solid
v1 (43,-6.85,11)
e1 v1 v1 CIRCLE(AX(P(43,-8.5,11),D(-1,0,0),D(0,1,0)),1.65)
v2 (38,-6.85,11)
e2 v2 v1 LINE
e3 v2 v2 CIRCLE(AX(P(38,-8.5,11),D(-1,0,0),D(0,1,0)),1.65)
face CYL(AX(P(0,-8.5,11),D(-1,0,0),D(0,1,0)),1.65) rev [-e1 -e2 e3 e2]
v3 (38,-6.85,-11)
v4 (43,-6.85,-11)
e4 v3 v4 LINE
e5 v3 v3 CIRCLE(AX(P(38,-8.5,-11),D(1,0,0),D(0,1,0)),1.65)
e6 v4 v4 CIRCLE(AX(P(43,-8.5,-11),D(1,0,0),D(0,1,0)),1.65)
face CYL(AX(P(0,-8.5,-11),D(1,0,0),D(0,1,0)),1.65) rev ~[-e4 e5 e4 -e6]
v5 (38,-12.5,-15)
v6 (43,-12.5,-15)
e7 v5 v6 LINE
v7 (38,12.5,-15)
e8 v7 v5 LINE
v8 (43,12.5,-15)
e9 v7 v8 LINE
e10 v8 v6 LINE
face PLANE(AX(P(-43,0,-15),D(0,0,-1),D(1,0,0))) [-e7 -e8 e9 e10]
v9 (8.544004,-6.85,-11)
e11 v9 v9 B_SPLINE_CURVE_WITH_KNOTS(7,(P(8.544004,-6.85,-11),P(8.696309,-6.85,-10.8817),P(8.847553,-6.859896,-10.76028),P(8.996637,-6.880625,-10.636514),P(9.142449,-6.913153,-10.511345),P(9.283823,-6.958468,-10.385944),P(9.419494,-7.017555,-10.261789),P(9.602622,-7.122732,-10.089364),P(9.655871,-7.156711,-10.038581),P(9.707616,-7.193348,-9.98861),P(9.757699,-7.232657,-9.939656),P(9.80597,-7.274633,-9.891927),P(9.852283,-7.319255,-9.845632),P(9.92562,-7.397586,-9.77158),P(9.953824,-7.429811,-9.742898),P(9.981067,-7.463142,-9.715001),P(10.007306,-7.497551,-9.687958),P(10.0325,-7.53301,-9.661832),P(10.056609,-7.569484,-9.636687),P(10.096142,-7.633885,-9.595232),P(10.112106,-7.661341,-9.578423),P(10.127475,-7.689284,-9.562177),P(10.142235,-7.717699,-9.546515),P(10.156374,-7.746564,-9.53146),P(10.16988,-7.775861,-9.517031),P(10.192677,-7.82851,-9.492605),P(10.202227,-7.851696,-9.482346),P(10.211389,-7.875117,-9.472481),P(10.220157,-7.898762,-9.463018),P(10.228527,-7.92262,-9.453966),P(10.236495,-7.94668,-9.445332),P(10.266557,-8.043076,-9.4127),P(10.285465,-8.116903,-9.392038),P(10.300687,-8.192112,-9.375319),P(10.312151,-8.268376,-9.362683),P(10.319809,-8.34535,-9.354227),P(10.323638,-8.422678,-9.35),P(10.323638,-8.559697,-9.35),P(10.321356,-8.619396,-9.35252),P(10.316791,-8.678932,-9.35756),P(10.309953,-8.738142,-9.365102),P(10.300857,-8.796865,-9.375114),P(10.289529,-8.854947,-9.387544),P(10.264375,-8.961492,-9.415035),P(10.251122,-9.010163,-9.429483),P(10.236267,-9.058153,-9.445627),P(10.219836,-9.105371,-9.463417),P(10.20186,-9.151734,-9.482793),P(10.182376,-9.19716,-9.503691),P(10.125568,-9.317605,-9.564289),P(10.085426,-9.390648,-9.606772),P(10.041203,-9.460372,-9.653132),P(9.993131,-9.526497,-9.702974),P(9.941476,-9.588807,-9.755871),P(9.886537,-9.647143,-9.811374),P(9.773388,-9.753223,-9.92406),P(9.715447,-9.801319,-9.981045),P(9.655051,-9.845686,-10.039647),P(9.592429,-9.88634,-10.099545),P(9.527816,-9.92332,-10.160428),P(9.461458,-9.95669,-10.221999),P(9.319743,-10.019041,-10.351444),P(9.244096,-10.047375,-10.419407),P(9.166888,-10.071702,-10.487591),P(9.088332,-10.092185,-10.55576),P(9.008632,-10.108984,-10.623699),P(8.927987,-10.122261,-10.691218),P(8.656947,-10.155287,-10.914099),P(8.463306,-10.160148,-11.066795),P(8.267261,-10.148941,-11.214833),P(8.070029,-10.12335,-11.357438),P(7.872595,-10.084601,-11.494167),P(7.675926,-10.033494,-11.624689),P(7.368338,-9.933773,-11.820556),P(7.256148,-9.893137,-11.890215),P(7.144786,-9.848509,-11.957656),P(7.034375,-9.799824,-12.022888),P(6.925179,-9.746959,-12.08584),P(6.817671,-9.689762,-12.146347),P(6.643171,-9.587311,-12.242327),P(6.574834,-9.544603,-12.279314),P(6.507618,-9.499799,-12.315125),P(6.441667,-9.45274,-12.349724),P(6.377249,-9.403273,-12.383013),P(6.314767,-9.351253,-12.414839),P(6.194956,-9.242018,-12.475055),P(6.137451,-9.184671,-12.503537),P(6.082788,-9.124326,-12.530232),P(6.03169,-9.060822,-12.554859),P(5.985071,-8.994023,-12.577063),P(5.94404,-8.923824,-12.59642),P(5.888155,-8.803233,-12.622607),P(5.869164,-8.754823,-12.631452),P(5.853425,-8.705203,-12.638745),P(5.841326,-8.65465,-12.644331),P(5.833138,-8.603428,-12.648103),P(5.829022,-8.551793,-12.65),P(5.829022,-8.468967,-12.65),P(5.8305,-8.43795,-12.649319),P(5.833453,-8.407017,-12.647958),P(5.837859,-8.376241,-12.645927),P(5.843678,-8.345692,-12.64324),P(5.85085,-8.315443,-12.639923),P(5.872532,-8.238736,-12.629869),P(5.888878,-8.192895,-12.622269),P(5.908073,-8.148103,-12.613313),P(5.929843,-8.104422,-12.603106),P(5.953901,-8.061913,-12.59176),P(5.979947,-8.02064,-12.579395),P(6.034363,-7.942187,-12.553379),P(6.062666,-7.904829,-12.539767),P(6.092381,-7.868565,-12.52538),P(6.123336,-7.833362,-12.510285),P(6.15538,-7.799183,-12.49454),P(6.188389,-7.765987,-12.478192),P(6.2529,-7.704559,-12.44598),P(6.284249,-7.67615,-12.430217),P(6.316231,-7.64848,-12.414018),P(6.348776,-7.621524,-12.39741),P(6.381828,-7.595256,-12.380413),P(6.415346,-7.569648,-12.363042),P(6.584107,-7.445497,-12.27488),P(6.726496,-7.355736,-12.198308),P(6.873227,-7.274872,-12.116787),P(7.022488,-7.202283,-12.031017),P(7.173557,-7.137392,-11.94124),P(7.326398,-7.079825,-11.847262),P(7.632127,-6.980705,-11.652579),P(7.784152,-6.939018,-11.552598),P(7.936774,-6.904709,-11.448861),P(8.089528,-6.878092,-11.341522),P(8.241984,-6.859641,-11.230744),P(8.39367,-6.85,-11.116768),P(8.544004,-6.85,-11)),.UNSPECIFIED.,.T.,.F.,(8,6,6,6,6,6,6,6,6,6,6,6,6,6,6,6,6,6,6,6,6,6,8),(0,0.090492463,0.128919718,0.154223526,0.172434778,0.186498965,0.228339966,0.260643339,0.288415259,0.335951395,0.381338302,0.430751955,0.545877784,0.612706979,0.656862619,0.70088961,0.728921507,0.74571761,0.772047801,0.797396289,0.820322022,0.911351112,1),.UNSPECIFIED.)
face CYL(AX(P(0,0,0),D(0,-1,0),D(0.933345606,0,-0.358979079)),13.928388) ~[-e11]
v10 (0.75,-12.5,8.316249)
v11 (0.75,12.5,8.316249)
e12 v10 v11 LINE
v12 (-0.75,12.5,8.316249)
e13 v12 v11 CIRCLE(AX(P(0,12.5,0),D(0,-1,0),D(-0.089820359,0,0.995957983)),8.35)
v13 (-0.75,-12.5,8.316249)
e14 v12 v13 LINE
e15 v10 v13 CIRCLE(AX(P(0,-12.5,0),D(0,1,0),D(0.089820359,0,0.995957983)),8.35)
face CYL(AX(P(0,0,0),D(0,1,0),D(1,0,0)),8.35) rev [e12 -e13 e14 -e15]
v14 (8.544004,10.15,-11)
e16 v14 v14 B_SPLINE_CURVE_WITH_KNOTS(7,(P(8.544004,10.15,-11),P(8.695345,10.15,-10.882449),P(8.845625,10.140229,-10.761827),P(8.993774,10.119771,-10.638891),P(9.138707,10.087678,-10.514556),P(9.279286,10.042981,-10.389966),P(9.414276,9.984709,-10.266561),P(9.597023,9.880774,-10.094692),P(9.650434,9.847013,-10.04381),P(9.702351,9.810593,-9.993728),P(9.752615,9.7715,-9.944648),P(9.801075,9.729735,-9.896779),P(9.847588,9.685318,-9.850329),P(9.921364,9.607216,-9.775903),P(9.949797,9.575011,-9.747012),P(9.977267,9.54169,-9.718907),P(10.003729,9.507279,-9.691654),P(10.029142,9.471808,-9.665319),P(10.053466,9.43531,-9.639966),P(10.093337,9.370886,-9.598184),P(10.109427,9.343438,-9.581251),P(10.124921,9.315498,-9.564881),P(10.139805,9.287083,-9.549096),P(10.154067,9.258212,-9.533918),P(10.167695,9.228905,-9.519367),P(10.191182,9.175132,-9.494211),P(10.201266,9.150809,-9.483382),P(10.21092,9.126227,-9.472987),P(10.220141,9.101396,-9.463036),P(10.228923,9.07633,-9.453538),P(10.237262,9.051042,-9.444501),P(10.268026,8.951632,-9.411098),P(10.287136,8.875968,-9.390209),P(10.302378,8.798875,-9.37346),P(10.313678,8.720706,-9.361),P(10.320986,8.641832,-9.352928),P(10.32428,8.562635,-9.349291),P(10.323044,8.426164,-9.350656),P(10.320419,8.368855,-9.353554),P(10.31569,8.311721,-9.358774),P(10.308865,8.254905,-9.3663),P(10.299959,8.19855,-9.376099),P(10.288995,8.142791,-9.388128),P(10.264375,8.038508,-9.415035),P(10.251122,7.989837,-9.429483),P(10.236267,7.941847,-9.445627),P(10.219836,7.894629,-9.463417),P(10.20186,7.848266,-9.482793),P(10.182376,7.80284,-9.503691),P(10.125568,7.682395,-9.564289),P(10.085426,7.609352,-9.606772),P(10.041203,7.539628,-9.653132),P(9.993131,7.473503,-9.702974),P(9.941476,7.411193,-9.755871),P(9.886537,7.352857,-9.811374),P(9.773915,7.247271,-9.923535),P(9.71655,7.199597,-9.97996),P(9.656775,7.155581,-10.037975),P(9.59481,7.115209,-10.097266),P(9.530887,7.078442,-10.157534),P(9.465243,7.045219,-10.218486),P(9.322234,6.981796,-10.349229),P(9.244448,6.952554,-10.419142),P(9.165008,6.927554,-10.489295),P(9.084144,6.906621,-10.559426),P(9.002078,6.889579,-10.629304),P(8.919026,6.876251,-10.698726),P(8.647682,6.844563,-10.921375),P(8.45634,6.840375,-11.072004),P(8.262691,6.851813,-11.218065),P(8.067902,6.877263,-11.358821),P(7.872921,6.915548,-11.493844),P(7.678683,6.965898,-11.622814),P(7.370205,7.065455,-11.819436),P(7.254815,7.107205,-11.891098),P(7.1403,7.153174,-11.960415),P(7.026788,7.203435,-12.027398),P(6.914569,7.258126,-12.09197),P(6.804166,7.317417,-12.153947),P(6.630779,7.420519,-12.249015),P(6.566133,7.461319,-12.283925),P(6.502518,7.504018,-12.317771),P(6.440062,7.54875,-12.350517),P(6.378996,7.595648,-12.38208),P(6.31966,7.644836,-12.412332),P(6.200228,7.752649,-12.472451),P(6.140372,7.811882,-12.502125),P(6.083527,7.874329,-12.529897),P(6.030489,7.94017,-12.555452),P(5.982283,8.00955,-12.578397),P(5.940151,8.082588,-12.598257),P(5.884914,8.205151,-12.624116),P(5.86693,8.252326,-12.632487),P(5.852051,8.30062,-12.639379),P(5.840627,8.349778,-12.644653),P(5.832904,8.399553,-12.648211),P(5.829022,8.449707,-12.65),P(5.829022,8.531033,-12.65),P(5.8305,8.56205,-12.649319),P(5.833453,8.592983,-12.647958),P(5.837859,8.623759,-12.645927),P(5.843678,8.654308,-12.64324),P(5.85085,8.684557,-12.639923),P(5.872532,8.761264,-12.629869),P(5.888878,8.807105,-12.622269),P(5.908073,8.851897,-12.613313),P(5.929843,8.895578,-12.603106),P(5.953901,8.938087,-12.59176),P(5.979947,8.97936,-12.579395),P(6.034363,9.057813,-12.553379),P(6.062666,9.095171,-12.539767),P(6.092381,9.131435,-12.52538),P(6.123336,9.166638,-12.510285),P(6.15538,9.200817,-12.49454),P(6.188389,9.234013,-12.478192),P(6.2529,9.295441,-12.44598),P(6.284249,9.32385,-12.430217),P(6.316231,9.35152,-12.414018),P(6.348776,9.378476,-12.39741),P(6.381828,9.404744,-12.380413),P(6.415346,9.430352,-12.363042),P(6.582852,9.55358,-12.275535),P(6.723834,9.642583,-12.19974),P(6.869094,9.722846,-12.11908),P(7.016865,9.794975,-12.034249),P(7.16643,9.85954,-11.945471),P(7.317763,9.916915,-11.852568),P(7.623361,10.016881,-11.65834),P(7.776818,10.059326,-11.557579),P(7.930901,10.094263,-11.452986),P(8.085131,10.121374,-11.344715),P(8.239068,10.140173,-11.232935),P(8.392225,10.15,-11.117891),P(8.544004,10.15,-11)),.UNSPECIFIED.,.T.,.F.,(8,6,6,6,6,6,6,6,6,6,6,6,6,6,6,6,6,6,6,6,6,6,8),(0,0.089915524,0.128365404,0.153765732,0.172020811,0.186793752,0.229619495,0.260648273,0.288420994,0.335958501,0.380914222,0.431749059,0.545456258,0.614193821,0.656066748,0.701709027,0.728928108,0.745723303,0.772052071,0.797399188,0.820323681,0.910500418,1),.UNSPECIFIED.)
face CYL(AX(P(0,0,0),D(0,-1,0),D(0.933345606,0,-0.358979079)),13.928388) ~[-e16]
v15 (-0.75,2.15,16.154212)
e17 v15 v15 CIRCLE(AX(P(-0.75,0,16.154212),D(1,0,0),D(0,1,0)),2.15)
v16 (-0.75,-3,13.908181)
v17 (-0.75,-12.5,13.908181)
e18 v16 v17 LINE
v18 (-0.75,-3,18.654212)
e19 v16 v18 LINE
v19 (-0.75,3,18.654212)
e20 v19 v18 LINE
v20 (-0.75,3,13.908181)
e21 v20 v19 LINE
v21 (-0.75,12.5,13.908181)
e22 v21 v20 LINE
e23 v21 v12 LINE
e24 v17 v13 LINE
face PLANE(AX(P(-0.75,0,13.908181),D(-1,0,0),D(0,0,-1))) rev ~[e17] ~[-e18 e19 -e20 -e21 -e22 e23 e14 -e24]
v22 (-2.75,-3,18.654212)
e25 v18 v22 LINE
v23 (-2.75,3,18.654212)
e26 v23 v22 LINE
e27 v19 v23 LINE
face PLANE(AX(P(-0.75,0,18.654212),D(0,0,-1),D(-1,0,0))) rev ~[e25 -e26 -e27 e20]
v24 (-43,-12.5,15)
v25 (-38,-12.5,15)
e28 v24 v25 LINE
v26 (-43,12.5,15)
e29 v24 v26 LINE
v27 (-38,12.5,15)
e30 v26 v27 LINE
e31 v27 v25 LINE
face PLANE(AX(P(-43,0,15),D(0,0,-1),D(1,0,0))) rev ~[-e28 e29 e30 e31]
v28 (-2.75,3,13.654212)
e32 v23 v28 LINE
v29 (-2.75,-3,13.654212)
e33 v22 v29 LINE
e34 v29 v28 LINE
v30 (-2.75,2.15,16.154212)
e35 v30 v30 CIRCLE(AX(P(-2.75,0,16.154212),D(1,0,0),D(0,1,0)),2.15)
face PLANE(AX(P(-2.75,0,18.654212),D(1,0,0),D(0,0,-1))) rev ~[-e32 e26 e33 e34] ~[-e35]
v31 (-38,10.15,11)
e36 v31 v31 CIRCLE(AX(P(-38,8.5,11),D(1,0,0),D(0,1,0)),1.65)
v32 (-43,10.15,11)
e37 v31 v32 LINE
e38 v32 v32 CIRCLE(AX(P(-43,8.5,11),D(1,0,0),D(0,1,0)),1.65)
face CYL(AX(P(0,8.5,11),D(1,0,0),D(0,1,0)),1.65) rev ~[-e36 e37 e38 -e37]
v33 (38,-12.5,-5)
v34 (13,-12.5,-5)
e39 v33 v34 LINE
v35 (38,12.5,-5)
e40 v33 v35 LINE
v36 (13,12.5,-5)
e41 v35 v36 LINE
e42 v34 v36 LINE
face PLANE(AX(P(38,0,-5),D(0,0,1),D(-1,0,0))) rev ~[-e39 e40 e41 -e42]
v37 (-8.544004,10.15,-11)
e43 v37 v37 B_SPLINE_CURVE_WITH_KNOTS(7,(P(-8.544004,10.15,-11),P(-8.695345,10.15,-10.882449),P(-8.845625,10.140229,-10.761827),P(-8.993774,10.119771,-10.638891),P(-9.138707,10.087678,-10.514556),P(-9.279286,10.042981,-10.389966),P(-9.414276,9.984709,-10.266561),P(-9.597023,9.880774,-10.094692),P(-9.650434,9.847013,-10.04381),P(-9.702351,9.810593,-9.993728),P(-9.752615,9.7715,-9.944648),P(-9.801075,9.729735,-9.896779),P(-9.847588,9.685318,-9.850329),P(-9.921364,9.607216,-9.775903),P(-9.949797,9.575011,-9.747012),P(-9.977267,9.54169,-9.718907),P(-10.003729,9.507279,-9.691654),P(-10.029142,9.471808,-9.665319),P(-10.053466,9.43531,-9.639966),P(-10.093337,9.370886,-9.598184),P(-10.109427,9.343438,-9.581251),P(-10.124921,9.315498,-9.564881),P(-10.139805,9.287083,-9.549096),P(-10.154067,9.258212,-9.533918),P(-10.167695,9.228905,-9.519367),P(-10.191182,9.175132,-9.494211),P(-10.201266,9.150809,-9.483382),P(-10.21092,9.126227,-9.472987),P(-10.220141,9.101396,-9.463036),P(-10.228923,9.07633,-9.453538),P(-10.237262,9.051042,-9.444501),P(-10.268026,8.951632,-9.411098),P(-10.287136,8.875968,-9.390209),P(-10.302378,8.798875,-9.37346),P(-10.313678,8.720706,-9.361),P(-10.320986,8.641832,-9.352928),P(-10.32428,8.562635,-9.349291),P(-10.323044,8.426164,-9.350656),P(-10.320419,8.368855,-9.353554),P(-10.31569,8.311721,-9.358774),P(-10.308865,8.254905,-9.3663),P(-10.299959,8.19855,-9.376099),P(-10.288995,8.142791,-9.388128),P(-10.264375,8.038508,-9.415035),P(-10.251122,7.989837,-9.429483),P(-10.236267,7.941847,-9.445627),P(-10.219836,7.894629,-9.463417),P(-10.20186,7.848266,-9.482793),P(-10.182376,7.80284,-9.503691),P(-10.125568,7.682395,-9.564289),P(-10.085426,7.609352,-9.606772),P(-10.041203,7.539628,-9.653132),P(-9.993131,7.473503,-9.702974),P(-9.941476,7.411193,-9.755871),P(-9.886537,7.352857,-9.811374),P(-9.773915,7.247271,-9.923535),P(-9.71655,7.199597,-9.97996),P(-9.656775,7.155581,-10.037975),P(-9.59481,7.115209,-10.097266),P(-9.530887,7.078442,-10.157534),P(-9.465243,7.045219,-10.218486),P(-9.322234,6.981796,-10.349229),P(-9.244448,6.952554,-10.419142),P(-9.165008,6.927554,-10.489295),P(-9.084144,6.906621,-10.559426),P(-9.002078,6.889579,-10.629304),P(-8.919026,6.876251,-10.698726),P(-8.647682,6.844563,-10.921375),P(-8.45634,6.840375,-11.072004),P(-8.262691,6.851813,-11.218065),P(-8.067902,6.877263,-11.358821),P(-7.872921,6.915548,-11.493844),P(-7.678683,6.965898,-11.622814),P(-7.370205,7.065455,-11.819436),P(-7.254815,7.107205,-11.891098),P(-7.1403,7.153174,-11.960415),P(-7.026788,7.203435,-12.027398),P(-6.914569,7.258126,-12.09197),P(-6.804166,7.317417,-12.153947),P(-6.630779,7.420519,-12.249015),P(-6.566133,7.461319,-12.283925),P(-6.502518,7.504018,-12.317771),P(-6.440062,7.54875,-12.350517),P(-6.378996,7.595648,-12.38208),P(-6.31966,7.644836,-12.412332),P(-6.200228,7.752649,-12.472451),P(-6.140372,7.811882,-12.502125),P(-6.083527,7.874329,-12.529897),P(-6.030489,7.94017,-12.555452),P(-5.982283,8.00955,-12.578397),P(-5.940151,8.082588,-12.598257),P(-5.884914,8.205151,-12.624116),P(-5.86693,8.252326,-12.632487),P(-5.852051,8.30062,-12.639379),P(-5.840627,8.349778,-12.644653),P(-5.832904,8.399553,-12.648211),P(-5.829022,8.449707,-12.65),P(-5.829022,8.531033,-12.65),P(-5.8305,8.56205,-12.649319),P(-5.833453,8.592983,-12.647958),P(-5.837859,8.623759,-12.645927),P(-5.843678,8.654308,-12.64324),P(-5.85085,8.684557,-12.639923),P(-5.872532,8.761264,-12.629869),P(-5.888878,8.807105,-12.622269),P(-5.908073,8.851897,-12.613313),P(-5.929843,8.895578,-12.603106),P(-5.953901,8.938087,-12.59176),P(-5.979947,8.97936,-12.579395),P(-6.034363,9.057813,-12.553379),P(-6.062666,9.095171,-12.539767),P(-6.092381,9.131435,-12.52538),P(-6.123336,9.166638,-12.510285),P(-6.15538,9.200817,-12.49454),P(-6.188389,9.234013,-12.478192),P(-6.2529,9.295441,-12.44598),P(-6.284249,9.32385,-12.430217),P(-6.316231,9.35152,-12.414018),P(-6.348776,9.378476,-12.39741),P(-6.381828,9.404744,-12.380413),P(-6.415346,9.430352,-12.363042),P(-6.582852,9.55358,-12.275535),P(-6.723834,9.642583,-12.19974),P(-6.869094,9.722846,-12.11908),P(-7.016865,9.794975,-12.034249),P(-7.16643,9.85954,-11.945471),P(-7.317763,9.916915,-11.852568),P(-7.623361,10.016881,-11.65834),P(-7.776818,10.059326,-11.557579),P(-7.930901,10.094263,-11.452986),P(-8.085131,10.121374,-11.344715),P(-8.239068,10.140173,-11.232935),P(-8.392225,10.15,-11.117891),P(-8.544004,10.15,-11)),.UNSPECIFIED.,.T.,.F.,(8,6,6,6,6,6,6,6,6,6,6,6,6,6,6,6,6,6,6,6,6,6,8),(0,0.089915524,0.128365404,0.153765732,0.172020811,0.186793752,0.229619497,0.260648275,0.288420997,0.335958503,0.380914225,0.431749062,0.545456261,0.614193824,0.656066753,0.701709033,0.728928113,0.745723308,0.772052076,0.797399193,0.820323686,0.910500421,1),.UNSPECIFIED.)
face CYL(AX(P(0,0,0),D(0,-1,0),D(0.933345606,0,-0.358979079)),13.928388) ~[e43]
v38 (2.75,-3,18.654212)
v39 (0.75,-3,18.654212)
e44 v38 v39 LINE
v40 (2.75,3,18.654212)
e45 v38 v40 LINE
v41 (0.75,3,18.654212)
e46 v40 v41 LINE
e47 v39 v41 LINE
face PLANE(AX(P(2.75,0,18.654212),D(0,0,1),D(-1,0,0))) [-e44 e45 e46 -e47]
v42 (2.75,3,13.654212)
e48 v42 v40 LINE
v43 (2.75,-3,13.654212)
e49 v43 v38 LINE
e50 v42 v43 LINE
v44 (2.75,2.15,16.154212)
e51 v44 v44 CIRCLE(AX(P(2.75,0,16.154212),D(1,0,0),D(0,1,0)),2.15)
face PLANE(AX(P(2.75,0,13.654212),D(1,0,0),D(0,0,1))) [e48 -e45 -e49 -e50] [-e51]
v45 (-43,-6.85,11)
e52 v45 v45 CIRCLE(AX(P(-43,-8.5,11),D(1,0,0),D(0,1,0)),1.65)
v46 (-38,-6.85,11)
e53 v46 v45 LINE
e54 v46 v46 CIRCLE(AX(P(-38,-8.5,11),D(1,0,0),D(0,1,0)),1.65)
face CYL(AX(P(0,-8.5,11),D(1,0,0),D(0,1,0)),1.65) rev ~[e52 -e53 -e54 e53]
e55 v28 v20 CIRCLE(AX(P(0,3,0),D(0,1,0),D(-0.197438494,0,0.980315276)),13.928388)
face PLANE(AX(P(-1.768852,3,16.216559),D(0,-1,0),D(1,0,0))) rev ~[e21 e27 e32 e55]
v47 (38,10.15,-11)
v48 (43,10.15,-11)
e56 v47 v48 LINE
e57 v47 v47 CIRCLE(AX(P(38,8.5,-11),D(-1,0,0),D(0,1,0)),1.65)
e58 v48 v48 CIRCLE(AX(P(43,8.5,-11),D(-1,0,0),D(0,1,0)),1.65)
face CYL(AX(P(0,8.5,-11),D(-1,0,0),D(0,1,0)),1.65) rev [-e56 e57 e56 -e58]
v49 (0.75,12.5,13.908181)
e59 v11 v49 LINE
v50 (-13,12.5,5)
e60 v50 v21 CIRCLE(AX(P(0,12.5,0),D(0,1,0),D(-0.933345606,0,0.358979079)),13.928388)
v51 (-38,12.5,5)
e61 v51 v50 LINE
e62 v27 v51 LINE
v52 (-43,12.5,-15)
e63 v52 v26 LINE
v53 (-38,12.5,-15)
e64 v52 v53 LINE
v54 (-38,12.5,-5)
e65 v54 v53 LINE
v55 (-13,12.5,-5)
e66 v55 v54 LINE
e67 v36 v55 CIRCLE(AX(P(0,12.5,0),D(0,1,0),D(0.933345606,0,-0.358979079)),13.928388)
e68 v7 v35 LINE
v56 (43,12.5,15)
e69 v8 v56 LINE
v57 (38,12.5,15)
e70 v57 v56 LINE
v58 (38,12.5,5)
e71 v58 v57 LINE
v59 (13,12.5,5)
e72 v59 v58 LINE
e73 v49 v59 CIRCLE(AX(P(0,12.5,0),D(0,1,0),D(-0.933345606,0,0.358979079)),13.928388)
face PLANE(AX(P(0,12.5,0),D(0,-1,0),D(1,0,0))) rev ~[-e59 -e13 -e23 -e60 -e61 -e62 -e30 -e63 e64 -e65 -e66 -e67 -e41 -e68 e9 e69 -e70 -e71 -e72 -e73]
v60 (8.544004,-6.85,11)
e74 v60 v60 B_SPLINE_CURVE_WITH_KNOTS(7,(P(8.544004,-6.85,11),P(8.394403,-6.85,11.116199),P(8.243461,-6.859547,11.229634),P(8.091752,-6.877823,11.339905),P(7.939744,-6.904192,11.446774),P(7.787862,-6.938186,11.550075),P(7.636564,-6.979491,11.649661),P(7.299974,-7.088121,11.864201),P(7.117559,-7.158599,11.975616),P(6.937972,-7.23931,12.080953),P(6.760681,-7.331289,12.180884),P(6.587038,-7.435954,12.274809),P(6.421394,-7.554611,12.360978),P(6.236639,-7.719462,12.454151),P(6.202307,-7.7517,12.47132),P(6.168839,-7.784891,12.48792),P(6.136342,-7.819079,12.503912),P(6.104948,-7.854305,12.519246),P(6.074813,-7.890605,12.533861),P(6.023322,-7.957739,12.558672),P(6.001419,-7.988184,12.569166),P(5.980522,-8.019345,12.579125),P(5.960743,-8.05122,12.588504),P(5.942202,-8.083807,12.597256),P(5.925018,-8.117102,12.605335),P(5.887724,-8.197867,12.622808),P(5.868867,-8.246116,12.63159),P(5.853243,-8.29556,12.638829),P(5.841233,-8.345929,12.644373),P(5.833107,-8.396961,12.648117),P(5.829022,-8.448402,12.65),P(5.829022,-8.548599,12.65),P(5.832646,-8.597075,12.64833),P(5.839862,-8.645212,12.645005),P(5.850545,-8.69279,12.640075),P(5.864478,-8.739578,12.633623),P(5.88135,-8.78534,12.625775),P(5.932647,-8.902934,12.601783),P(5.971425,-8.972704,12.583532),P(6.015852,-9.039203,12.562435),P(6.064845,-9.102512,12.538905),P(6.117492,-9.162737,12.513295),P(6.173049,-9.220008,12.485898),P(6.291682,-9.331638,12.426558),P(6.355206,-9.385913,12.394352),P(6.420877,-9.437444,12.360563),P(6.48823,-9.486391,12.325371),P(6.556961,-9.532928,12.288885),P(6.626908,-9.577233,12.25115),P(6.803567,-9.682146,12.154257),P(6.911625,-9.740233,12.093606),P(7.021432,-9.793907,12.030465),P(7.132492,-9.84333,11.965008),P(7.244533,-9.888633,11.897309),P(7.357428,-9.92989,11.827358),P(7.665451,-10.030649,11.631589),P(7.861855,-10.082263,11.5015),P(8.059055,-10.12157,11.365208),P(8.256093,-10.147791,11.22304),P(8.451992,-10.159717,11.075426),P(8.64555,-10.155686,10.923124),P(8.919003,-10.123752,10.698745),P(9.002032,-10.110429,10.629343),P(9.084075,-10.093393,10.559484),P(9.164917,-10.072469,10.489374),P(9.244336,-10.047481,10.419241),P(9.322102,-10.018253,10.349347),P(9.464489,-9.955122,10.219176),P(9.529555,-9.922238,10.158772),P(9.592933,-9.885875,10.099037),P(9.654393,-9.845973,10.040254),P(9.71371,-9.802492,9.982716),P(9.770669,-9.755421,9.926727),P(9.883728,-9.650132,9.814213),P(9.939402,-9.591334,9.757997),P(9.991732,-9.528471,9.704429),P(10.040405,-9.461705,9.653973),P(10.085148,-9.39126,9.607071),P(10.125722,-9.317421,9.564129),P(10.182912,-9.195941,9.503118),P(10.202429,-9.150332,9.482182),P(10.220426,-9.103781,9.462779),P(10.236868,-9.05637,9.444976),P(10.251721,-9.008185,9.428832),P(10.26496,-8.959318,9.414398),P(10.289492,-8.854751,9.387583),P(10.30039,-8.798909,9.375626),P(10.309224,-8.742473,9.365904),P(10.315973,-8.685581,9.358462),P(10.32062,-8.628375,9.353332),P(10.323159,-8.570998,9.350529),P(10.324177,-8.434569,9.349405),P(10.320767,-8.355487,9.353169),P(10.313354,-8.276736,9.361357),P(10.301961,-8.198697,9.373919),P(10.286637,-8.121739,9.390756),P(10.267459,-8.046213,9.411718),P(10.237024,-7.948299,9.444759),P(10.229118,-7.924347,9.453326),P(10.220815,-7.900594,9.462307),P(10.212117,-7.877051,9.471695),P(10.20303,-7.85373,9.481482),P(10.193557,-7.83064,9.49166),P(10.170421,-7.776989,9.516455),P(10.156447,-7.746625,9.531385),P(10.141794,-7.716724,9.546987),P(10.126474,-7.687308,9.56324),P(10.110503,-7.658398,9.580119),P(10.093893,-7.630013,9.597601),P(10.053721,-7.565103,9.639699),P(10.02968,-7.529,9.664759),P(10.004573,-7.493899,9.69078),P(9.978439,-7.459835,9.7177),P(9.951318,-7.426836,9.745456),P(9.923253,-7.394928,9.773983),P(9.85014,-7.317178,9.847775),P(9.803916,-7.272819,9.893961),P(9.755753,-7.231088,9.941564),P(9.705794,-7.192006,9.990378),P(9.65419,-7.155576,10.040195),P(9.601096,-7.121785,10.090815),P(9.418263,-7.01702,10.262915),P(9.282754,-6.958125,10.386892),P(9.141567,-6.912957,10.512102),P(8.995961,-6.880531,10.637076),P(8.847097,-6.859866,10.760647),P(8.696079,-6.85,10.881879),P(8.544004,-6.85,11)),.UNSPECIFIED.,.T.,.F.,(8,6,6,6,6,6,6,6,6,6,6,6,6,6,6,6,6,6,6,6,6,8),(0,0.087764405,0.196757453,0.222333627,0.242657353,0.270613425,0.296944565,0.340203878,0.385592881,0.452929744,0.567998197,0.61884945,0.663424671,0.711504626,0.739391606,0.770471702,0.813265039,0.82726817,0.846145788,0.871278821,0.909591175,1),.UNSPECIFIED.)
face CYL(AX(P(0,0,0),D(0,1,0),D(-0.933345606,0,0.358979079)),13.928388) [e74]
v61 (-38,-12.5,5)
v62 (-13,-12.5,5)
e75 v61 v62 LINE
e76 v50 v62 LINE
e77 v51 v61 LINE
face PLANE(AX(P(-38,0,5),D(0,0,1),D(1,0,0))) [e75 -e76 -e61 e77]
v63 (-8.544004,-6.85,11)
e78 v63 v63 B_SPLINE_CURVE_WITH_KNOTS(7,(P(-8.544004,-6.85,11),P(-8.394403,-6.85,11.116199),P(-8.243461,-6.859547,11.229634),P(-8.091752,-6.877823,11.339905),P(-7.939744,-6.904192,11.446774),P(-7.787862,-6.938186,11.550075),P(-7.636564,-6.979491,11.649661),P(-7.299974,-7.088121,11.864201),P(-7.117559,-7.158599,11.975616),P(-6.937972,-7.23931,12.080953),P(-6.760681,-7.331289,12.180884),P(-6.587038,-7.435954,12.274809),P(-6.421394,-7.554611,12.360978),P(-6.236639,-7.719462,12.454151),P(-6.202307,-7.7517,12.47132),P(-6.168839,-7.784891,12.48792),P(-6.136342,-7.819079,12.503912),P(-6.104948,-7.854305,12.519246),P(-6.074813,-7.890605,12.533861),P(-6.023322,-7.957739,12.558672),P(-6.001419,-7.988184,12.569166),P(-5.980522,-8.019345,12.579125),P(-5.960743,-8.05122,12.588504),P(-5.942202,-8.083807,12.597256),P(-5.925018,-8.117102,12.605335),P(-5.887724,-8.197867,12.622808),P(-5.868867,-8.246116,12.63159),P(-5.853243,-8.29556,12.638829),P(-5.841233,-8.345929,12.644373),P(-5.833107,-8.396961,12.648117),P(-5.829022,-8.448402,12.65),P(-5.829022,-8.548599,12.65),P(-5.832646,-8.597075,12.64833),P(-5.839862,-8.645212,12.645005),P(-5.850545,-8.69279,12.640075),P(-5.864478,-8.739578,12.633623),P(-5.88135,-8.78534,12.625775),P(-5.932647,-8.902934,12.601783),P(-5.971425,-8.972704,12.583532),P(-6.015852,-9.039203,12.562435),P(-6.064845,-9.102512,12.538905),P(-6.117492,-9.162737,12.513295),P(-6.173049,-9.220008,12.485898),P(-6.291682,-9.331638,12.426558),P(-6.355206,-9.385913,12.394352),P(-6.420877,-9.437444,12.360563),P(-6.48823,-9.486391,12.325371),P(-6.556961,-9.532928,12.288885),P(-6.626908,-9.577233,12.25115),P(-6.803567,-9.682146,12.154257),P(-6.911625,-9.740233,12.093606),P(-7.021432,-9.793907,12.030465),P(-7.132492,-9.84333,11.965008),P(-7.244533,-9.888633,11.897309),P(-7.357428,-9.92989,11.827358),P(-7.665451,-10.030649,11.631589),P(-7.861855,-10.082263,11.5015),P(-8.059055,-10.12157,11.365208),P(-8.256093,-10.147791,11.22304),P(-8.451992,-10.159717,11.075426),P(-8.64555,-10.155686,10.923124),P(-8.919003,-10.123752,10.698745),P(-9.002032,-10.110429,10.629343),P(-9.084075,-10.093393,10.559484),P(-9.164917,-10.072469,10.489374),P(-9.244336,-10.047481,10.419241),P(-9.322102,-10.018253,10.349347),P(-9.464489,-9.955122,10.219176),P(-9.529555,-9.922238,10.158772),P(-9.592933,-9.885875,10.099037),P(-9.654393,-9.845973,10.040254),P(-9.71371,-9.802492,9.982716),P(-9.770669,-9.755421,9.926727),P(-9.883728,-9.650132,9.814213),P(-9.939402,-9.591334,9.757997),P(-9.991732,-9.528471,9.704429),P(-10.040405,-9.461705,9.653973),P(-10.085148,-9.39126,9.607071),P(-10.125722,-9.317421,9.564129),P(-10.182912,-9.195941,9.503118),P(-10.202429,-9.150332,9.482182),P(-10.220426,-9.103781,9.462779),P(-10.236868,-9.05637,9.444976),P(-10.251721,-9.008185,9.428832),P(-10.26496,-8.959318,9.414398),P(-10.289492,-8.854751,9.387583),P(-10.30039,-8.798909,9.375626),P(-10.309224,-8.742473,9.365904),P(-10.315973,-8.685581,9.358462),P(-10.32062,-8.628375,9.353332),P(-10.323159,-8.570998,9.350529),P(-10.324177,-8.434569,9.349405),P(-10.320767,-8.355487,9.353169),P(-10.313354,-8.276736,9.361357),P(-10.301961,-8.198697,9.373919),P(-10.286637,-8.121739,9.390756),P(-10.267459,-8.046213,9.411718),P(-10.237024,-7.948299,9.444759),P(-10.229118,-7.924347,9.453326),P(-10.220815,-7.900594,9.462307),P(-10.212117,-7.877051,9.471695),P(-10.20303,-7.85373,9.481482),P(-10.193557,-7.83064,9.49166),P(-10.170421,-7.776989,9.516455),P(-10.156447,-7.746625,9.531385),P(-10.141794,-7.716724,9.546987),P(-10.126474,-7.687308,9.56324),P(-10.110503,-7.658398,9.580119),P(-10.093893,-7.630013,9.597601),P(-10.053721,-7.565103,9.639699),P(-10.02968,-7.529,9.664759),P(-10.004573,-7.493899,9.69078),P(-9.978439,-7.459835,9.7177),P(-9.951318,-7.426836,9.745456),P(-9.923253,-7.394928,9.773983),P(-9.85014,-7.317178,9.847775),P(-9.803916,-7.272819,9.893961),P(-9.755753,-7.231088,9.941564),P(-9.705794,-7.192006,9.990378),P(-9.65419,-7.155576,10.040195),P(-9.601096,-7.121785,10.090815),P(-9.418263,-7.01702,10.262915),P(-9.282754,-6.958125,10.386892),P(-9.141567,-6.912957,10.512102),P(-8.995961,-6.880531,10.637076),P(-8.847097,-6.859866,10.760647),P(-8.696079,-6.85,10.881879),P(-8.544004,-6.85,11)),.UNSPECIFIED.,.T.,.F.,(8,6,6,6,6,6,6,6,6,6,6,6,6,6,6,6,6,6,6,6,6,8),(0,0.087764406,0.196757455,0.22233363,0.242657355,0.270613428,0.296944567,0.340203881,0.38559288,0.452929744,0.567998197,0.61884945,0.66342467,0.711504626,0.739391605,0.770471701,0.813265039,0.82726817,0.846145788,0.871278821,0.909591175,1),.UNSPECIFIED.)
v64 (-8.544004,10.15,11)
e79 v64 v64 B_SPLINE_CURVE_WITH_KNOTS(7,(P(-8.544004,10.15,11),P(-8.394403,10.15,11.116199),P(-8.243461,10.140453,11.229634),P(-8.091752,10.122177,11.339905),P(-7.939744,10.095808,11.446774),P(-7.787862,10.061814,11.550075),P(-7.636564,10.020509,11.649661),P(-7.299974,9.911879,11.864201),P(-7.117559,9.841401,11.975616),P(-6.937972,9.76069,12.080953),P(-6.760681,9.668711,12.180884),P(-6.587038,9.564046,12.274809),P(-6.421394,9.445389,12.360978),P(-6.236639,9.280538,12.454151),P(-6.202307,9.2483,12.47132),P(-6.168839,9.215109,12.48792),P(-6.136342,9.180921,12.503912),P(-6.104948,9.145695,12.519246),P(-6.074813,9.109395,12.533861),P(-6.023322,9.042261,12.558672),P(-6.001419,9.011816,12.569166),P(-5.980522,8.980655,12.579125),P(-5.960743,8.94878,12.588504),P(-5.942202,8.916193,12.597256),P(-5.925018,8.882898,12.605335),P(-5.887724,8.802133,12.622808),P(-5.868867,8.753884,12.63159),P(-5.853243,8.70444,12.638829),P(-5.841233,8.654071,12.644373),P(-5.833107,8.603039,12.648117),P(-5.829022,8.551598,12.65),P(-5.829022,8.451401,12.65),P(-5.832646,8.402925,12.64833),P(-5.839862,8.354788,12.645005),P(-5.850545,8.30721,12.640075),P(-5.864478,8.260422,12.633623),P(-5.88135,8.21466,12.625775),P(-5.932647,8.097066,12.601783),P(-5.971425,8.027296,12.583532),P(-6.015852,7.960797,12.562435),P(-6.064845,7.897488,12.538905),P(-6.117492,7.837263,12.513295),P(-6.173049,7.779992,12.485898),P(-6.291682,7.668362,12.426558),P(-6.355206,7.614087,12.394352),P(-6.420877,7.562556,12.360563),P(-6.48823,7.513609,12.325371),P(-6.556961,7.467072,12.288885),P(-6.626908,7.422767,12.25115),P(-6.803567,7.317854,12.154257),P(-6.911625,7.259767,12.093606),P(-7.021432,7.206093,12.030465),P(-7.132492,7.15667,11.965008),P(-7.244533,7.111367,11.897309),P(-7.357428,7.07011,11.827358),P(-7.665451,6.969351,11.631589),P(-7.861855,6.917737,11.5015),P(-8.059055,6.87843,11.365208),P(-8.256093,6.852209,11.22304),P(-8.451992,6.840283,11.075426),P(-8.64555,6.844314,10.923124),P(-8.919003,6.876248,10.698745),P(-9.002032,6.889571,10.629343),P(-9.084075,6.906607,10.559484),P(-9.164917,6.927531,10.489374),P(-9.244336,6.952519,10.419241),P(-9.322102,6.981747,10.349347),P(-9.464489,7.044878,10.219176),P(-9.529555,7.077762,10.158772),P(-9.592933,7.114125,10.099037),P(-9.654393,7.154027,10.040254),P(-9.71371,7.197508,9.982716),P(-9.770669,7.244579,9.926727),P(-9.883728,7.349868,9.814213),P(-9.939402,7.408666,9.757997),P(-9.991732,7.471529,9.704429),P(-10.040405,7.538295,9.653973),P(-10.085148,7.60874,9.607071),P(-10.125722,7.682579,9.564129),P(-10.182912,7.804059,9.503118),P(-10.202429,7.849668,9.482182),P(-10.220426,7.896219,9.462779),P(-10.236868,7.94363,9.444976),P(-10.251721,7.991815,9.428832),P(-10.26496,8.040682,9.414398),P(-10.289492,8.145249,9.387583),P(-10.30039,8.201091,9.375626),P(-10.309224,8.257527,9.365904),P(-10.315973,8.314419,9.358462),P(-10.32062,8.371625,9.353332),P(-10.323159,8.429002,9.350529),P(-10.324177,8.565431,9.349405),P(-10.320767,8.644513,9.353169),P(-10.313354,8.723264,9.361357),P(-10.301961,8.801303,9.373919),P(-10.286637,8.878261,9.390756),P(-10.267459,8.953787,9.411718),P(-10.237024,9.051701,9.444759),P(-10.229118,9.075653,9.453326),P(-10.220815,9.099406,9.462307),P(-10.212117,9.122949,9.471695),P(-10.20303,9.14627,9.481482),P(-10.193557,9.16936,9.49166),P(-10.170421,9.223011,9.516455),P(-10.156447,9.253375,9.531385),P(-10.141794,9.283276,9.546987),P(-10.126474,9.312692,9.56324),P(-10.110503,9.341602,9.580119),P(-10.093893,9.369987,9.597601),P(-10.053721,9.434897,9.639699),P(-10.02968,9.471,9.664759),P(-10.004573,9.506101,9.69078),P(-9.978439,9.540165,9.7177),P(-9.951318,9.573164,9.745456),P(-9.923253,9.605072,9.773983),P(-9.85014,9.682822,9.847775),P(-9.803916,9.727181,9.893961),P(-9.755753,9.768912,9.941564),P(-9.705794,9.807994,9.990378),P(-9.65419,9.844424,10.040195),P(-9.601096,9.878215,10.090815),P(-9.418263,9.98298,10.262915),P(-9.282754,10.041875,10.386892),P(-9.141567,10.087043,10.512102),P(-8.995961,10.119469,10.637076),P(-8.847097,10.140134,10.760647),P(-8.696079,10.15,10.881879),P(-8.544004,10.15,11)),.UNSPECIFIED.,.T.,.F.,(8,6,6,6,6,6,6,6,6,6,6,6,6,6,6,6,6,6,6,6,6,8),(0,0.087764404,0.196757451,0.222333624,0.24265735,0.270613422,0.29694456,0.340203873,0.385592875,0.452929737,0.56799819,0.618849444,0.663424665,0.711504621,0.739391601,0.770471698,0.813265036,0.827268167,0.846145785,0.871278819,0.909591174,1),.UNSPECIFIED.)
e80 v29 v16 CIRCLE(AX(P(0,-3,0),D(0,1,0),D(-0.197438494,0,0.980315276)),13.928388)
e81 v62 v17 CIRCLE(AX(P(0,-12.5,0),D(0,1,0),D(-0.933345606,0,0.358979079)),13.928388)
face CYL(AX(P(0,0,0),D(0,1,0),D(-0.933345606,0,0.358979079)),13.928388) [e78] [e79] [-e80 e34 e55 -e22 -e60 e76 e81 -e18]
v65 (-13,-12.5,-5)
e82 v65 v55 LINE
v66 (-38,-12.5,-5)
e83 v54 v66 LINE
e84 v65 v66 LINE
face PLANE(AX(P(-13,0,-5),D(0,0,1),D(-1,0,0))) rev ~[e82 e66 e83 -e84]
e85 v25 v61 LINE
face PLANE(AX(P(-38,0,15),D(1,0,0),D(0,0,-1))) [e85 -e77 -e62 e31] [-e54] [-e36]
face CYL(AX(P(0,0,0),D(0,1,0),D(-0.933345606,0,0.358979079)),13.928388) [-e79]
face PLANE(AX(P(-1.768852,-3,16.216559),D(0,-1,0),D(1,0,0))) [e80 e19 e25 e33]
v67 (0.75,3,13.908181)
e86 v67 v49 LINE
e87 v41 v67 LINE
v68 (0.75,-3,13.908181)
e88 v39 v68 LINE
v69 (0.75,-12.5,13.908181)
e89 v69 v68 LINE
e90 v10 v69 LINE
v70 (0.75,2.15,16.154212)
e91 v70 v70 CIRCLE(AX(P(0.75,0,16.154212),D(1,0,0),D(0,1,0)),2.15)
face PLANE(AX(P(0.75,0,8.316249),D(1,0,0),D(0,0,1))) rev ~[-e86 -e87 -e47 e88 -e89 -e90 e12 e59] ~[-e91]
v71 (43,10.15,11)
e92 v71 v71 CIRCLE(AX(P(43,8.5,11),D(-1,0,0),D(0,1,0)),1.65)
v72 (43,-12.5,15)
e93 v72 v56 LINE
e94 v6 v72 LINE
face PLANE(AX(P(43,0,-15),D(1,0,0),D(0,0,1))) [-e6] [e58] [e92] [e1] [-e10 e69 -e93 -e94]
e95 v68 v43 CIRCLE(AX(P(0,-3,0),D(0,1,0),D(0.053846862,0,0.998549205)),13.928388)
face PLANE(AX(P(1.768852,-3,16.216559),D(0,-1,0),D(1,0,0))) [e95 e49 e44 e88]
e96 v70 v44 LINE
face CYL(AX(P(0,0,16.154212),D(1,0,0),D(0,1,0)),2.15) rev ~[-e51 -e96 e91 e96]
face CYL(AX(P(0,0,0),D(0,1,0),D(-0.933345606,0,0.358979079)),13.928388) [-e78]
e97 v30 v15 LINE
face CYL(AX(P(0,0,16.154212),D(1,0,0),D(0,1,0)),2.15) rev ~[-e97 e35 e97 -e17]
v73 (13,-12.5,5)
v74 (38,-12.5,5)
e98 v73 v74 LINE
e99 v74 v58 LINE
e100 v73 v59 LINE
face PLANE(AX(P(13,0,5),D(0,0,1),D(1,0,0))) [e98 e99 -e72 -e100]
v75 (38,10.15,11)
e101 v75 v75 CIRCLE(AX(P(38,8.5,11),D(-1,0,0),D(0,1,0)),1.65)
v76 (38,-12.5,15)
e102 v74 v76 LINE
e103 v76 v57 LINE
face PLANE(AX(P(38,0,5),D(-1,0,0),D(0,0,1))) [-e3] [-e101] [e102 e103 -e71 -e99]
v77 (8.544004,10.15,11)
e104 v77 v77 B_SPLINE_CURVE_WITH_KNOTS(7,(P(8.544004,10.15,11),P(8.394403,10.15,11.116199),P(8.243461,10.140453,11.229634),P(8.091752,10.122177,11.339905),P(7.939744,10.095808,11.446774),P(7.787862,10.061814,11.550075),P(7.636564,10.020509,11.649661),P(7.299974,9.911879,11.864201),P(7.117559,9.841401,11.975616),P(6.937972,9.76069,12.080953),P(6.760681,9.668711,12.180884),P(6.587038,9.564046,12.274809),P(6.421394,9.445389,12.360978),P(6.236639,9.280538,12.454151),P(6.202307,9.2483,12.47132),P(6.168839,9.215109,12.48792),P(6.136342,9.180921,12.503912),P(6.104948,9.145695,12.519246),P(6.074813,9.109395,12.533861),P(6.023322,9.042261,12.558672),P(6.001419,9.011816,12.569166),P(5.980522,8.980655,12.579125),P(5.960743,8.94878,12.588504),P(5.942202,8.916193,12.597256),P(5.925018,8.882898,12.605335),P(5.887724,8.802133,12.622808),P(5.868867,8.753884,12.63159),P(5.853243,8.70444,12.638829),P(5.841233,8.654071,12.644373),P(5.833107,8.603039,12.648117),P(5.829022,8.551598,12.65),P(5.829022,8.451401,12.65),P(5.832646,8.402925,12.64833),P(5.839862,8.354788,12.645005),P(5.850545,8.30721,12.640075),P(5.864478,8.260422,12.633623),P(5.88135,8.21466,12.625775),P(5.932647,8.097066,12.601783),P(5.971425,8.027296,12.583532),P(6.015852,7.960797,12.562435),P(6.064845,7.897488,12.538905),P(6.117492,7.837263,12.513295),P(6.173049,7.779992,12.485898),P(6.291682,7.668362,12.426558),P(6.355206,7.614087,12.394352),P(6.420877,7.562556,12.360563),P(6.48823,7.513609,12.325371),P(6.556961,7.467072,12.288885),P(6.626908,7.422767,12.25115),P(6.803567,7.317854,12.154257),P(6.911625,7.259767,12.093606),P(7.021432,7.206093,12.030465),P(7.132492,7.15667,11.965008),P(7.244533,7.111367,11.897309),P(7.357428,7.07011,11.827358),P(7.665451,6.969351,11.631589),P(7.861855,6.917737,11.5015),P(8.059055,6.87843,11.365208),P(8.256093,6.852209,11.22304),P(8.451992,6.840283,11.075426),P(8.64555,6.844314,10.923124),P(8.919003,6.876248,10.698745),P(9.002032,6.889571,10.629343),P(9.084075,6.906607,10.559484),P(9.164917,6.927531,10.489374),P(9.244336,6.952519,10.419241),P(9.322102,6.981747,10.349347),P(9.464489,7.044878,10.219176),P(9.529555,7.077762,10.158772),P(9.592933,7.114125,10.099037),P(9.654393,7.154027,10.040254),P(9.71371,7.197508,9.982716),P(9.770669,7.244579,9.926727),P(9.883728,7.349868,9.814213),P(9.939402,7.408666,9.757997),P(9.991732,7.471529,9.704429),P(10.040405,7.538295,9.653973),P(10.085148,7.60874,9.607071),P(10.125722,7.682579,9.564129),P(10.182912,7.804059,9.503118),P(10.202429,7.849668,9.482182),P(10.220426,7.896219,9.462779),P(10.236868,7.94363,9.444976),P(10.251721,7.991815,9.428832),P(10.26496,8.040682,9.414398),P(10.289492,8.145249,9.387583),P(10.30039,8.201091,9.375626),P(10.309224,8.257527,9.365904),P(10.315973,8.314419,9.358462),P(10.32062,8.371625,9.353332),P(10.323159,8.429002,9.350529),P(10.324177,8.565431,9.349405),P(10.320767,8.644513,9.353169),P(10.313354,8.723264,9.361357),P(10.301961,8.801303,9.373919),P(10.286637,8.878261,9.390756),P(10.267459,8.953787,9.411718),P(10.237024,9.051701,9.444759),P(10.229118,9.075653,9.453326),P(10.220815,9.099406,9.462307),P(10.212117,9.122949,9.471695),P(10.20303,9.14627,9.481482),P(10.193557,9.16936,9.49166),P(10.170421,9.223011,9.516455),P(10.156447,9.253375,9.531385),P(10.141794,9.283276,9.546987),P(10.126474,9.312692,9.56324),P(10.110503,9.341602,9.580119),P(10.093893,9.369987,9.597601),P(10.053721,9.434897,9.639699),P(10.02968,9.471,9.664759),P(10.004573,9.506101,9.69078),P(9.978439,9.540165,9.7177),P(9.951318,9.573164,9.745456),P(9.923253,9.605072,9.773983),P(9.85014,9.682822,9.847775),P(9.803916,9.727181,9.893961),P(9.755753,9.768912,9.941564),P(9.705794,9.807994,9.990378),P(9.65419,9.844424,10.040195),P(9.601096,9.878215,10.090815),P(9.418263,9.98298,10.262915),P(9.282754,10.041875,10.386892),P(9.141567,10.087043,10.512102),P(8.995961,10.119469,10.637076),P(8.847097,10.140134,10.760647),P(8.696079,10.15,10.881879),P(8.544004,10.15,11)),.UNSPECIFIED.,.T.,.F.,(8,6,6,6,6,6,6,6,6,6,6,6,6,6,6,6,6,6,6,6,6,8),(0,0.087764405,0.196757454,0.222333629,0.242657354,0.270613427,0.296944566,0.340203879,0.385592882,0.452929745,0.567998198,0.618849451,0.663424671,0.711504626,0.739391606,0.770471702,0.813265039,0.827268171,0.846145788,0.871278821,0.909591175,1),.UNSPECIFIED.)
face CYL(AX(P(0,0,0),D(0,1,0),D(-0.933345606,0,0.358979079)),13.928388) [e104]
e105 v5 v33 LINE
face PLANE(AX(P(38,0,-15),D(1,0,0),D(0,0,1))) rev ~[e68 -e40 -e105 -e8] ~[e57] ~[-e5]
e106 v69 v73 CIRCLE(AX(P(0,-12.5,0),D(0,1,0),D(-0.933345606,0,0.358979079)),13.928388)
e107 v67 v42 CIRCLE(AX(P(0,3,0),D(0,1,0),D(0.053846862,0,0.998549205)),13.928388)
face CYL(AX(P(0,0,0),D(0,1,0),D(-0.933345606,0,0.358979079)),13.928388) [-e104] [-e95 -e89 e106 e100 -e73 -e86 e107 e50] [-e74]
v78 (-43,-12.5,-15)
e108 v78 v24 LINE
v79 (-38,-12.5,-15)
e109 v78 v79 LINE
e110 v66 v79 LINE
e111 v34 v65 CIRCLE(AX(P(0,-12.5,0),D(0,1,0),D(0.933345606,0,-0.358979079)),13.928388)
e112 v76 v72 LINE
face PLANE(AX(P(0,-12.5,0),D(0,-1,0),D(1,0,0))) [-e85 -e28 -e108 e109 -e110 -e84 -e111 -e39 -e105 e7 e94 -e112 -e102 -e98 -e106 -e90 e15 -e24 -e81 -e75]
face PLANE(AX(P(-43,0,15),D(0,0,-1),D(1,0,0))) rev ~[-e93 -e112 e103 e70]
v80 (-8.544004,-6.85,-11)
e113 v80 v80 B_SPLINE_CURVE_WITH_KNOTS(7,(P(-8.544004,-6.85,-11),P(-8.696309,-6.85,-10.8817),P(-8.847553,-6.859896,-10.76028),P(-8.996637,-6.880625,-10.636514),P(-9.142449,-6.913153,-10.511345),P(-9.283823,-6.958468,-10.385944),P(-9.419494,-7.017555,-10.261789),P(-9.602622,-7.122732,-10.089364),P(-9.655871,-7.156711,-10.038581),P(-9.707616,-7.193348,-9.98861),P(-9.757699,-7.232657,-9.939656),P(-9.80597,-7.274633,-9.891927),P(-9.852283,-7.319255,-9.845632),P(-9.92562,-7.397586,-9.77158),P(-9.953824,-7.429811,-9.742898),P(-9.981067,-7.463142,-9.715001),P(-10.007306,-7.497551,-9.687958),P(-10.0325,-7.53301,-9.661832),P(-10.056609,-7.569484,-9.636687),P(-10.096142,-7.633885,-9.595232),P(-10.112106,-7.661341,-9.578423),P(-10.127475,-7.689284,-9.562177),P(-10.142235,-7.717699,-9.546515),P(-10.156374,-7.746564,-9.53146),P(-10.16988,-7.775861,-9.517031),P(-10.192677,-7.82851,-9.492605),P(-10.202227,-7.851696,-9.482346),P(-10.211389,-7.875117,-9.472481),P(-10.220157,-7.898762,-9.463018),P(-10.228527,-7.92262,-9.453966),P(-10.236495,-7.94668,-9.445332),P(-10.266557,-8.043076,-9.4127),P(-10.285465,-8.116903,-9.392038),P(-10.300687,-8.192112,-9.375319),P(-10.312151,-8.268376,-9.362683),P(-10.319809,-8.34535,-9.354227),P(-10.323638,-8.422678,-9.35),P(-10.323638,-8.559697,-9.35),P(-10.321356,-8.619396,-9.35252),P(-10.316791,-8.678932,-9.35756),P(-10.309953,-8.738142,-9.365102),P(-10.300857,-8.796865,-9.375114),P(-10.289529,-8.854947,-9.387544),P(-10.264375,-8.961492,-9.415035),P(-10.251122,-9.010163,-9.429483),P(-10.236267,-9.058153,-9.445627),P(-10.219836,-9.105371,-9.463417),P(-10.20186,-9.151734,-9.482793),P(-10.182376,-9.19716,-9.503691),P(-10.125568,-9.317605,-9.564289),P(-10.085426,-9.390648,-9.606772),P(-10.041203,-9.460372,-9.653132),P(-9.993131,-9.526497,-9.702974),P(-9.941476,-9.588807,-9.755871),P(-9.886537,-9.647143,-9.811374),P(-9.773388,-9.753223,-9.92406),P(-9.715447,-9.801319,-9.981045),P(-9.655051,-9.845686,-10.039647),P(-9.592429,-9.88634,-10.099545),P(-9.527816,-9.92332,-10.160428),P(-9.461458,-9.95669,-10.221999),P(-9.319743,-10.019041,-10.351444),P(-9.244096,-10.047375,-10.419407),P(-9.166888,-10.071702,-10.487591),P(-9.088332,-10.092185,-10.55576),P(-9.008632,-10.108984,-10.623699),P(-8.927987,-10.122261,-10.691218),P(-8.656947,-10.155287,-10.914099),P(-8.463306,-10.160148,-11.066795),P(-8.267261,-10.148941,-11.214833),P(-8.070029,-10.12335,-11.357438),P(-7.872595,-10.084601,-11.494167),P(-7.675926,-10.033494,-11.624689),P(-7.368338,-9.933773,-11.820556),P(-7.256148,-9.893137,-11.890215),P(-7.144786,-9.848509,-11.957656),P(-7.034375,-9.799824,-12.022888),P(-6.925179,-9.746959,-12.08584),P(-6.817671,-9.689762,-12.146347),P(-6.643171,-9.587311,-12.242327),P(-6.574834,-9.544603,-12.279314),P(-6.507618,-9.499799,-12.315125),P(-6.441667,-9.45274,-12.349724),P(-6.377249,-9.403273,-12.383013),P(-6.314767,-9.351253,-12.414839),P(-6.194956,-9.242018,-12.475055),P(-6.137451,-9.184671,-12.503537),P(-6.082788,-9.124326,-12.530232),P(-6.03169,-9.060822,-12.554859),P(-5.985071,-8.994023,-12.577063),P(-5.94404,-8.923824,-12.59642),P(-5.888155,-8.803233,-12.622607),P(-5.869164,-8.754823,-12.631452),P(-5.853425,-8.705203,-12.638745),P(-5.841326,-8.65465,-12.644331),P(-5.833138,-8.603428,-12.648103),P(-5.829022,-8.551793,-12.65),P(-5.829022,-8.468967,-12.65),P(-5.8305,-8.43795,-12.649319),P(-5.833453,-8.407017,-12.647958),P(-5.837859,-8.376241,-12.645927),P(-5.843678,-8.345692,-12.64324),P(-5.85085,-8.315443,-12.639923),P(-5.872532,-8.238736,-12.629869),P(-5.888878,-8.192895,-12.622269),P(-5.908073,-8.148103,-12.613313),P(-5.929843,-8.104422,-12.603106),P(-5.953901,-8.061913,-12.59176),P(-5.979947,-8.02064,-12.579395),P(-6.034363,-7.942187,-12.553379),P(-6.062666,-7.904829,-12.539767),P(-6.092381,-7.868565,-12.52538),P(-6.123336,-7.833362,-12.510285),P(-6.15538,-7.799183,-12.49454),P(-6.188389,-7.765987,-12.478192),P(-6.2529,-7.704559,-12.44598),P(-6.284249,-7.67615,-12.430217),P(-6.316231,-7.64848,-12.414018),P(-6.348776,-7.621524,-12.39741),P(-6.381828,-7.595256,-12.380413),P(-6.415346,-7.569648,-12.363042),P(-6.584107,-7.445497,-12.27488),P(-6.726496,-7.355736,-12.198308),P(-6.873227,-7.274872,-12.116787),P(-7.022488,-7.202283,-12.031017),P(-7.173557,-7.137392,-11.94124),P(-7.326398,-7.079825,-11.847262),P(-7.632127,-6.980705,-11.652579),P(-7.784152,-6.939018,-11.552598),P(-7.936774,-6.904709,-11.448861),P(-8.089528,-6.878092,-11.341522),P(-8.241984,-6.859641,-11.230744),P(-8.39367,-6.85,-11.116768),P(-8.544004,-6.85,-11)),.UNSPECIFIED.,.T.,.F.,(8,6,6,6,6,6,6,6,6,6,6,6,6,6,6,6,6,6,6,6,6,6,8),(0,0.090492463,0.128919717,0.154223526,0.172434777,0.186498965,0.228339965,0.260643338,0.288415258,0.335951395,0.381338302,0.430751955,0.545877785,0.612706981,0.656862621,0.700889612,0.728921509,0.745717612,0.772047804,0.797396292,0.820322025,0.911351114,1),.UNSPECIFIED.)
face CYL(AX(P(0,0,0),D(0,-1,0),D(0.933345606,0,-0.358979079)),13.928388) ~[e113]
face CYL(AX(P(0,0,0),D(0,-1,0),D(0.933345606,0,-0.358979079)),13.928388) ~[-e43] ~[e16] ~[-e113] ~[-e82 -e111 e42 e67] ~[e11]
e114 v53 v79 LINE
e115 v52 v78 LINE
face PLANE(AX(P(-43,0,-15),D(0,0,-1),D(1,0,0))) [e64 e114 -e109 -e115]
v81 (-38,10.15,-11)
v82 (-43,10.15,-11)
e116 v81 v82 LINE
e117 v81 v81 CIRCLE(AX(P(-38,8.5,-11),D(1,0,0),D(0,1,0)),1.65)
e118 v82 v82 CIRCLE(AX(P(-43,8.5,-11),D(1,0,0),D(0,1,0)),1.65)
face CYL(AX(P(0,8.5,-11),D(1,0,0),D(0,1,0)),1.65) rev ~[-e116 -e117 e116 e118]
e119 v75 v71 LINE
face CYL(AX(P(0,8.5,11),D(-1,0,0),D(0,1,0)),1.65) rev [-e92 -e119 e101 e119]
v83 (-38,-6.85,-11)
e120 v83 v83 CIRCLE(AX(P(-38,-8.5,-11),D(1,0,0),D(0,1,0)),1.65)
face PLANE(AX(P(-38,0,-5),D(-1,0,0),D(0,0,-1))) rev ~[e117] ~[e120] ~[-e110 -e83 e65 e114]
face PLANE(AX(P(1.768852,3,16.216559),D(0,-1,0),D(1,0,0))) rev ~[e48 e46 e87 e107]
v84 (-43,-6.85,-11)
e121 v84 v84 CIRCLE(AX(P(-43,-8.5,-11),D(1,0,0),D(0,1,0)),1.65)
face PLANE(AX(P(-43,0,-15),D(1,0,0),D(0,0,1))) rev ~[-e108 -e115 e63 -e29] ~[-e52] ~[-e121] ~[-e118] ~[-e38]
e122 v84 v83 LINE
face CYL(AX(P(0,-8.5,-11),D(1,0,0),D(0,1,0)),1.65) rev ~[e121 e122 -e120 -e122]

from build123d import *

# Parameters (mm, degrees)
F0_W      = 86
F0_H      = 30
F0_R      = 8.35
F1_DEPTH  = 12.5
F3_DEPTH  = 12.5
F4_R      = 1.65
F5_DEPTH  = 65
F6_R      = 1.65
F7_DEPTH  = 12.5
F9_DEPTH  = 12.5
F11_DEPTH = 12.5
F13_DEPTH = 3
F14_R     = 2.15
F15_DEPTH = 12.5


with BuildPart() as f1:
    # F0 (on Front) → F1 (new body, symmetric)
    with BuildSketch(Plane.XZ):
        Rectangle(F0_W, F0_H)
        Circle(F0_R, mode=Mode.SUBTRACT)
    extrude(amount=F1_DEPTH, both=True)

    # F2 (on Front) → F3 (cut, symmetric)
    with BuildSketch(Plane.XZ):
        with BuildLine():
            Line((38, 15), (-38, 15))
            Line((-38, 15), (-38, 5))
            Line((-38, 5), (-13, 5))
            ThreePointArc((-13, 5), (0, 13.9283882772), (13, 5))
            Line((13, 5), (38, 5))
            Line((38, 5), (38, 15))
        make_face()
        with BuildLine():
            Line((-13, -5), (-38, -5))
            Line((-38, -5), (-38, -15))
            Line((-38, -15), (38, -15))
            Line((38, -15), (38, -5))
            Line((38, -5), (13, -5))
            ThreePointArc((13, -5), (0, -13.9283882772), (-13, -5))
        make_face()
    extrude(amount=F3_DEPTH, both=True, mode=Mode.SUBTRACT)

    # F4 (on Right) → F5 (cut, symmetric)
    with BuildSketch(Plane.YZ):
        with Locations((8.5, 11)):
            Circle(F4_R)
        with Locations((8.5, -11)):
            Circle(F4_R)
        with Locations((-8.5, 11)):
            Circle(F4_R)
        with Locations((-8.5, -11)):
            Circle(F4_R)
    extrude(amount=F5_DEPTH, both=True, mode=Mode.SUBTRACT)

    # F6 (on Right) → F7 (join, symmetric)
    with BuildSketch(Plane.YZ):
        with Locations((8.5, 11)):
            Circle(F6_R)
        with Locations((8.5, -11)):
            Circle(F6_R)
        with Locations((-8.5, 11)):
            Circle(F6_R)
        with Locations((-8.5, -11)):
            Circle(F6_R)
    extrude(amount=F7_DEPTH, both=True)

    # F8 (on Front) → F9 (cut, symmetric)
    with BuildSketch(Plane.XZ):
        with BuildLine():
            Line((38, 15), (-38, 15))
            Line((-38, 15), (-38, 5))
            Line((-38, 5), (-13, 5))
            ThreePointArc((-13, 5), (0, 13.9283882772), (13, 5))
            Line((13, 5), (38, 5))
            Line((38, 5), (38, 15))
        make_face()
        with BuildLine():
            Line((-13, -5), (-38, -5))
            Line((-38, -5), (-38, -15))
            Line((-38, -15), (38, -15))
            Line((38, -15), (38, -5))
            Line((38, -5), (13, -5))
            ThreePointArc((13, -5), (0, -13.9283882772), (-13, -5))
        make_face()
    extrude(amount=F9_DEPTH, both=True, mode=Mode.SUBTRACT)

    # F10 (on Front) → F11 (cut, symmetric)
    with BuildSketch(Plane.XZ):
        with BuildLine():
            ThreePointArc((0.75, 13.9081810457), (0, 14.6581810457), (-0.75, 13.9081810457))
            Line((-0.75, 13.9081810457), (-0.75, 8.3162491545))
            ThreePointArc((-0.75, 8.3162491545), (0, 7.5662491545), (0.75, 8.3162491545))
            Line((0.75, 8.3162491545), (0.75, 13.9081810457))
        make_face()
    extrude(amount=F11_DEPTH, both=True, mode=Mode.SUBTRACT)

    # F12 (on Front) → F13 (join, symmetric)
    with BuildSketch(Plane.XZ):
        with BuildLine():
            Line((-0.75, 13.9081810457), (-0.75, 18.6542118044))
            Line((-0.75, 18.6542118044), (-2.75, 18.6542118044))
            Line((-2.75, 18.6542118044), (-2.75, 13.6542118044))
            ThreePointArc((-2.75, 13.6542118044), (-1.754601121, 13.8174301122), (-0.75, 13.9081810457))
        make_face()
        with BuildLine():
            Line((0.75, 18.6542118044), (0.75, 13.9081810457))
            ThreePointArc((0.75, 13.9081810457), (1.754601121, 13.8174301122), (2.75, 13.6542118044))
            Line((2.75, 13.6542118044), (2.75, 18.6542118044))
            Line((2.75, 18.6542118044), (0.75, 18.6542118044))
        make_face()
    extrude(amount=F13_DEPTH, both=True)

    # F14 (on Right) → F15 (cut, symmetric)
    with BuildSketch(Plane.YZ):
        with Locations((0, 16.1542118044)):
            Circle(F14_R)
    extrude(amount=F15_DEPTH, both=True, mode=Mode.SUBTRACT)


solid = f1.part
